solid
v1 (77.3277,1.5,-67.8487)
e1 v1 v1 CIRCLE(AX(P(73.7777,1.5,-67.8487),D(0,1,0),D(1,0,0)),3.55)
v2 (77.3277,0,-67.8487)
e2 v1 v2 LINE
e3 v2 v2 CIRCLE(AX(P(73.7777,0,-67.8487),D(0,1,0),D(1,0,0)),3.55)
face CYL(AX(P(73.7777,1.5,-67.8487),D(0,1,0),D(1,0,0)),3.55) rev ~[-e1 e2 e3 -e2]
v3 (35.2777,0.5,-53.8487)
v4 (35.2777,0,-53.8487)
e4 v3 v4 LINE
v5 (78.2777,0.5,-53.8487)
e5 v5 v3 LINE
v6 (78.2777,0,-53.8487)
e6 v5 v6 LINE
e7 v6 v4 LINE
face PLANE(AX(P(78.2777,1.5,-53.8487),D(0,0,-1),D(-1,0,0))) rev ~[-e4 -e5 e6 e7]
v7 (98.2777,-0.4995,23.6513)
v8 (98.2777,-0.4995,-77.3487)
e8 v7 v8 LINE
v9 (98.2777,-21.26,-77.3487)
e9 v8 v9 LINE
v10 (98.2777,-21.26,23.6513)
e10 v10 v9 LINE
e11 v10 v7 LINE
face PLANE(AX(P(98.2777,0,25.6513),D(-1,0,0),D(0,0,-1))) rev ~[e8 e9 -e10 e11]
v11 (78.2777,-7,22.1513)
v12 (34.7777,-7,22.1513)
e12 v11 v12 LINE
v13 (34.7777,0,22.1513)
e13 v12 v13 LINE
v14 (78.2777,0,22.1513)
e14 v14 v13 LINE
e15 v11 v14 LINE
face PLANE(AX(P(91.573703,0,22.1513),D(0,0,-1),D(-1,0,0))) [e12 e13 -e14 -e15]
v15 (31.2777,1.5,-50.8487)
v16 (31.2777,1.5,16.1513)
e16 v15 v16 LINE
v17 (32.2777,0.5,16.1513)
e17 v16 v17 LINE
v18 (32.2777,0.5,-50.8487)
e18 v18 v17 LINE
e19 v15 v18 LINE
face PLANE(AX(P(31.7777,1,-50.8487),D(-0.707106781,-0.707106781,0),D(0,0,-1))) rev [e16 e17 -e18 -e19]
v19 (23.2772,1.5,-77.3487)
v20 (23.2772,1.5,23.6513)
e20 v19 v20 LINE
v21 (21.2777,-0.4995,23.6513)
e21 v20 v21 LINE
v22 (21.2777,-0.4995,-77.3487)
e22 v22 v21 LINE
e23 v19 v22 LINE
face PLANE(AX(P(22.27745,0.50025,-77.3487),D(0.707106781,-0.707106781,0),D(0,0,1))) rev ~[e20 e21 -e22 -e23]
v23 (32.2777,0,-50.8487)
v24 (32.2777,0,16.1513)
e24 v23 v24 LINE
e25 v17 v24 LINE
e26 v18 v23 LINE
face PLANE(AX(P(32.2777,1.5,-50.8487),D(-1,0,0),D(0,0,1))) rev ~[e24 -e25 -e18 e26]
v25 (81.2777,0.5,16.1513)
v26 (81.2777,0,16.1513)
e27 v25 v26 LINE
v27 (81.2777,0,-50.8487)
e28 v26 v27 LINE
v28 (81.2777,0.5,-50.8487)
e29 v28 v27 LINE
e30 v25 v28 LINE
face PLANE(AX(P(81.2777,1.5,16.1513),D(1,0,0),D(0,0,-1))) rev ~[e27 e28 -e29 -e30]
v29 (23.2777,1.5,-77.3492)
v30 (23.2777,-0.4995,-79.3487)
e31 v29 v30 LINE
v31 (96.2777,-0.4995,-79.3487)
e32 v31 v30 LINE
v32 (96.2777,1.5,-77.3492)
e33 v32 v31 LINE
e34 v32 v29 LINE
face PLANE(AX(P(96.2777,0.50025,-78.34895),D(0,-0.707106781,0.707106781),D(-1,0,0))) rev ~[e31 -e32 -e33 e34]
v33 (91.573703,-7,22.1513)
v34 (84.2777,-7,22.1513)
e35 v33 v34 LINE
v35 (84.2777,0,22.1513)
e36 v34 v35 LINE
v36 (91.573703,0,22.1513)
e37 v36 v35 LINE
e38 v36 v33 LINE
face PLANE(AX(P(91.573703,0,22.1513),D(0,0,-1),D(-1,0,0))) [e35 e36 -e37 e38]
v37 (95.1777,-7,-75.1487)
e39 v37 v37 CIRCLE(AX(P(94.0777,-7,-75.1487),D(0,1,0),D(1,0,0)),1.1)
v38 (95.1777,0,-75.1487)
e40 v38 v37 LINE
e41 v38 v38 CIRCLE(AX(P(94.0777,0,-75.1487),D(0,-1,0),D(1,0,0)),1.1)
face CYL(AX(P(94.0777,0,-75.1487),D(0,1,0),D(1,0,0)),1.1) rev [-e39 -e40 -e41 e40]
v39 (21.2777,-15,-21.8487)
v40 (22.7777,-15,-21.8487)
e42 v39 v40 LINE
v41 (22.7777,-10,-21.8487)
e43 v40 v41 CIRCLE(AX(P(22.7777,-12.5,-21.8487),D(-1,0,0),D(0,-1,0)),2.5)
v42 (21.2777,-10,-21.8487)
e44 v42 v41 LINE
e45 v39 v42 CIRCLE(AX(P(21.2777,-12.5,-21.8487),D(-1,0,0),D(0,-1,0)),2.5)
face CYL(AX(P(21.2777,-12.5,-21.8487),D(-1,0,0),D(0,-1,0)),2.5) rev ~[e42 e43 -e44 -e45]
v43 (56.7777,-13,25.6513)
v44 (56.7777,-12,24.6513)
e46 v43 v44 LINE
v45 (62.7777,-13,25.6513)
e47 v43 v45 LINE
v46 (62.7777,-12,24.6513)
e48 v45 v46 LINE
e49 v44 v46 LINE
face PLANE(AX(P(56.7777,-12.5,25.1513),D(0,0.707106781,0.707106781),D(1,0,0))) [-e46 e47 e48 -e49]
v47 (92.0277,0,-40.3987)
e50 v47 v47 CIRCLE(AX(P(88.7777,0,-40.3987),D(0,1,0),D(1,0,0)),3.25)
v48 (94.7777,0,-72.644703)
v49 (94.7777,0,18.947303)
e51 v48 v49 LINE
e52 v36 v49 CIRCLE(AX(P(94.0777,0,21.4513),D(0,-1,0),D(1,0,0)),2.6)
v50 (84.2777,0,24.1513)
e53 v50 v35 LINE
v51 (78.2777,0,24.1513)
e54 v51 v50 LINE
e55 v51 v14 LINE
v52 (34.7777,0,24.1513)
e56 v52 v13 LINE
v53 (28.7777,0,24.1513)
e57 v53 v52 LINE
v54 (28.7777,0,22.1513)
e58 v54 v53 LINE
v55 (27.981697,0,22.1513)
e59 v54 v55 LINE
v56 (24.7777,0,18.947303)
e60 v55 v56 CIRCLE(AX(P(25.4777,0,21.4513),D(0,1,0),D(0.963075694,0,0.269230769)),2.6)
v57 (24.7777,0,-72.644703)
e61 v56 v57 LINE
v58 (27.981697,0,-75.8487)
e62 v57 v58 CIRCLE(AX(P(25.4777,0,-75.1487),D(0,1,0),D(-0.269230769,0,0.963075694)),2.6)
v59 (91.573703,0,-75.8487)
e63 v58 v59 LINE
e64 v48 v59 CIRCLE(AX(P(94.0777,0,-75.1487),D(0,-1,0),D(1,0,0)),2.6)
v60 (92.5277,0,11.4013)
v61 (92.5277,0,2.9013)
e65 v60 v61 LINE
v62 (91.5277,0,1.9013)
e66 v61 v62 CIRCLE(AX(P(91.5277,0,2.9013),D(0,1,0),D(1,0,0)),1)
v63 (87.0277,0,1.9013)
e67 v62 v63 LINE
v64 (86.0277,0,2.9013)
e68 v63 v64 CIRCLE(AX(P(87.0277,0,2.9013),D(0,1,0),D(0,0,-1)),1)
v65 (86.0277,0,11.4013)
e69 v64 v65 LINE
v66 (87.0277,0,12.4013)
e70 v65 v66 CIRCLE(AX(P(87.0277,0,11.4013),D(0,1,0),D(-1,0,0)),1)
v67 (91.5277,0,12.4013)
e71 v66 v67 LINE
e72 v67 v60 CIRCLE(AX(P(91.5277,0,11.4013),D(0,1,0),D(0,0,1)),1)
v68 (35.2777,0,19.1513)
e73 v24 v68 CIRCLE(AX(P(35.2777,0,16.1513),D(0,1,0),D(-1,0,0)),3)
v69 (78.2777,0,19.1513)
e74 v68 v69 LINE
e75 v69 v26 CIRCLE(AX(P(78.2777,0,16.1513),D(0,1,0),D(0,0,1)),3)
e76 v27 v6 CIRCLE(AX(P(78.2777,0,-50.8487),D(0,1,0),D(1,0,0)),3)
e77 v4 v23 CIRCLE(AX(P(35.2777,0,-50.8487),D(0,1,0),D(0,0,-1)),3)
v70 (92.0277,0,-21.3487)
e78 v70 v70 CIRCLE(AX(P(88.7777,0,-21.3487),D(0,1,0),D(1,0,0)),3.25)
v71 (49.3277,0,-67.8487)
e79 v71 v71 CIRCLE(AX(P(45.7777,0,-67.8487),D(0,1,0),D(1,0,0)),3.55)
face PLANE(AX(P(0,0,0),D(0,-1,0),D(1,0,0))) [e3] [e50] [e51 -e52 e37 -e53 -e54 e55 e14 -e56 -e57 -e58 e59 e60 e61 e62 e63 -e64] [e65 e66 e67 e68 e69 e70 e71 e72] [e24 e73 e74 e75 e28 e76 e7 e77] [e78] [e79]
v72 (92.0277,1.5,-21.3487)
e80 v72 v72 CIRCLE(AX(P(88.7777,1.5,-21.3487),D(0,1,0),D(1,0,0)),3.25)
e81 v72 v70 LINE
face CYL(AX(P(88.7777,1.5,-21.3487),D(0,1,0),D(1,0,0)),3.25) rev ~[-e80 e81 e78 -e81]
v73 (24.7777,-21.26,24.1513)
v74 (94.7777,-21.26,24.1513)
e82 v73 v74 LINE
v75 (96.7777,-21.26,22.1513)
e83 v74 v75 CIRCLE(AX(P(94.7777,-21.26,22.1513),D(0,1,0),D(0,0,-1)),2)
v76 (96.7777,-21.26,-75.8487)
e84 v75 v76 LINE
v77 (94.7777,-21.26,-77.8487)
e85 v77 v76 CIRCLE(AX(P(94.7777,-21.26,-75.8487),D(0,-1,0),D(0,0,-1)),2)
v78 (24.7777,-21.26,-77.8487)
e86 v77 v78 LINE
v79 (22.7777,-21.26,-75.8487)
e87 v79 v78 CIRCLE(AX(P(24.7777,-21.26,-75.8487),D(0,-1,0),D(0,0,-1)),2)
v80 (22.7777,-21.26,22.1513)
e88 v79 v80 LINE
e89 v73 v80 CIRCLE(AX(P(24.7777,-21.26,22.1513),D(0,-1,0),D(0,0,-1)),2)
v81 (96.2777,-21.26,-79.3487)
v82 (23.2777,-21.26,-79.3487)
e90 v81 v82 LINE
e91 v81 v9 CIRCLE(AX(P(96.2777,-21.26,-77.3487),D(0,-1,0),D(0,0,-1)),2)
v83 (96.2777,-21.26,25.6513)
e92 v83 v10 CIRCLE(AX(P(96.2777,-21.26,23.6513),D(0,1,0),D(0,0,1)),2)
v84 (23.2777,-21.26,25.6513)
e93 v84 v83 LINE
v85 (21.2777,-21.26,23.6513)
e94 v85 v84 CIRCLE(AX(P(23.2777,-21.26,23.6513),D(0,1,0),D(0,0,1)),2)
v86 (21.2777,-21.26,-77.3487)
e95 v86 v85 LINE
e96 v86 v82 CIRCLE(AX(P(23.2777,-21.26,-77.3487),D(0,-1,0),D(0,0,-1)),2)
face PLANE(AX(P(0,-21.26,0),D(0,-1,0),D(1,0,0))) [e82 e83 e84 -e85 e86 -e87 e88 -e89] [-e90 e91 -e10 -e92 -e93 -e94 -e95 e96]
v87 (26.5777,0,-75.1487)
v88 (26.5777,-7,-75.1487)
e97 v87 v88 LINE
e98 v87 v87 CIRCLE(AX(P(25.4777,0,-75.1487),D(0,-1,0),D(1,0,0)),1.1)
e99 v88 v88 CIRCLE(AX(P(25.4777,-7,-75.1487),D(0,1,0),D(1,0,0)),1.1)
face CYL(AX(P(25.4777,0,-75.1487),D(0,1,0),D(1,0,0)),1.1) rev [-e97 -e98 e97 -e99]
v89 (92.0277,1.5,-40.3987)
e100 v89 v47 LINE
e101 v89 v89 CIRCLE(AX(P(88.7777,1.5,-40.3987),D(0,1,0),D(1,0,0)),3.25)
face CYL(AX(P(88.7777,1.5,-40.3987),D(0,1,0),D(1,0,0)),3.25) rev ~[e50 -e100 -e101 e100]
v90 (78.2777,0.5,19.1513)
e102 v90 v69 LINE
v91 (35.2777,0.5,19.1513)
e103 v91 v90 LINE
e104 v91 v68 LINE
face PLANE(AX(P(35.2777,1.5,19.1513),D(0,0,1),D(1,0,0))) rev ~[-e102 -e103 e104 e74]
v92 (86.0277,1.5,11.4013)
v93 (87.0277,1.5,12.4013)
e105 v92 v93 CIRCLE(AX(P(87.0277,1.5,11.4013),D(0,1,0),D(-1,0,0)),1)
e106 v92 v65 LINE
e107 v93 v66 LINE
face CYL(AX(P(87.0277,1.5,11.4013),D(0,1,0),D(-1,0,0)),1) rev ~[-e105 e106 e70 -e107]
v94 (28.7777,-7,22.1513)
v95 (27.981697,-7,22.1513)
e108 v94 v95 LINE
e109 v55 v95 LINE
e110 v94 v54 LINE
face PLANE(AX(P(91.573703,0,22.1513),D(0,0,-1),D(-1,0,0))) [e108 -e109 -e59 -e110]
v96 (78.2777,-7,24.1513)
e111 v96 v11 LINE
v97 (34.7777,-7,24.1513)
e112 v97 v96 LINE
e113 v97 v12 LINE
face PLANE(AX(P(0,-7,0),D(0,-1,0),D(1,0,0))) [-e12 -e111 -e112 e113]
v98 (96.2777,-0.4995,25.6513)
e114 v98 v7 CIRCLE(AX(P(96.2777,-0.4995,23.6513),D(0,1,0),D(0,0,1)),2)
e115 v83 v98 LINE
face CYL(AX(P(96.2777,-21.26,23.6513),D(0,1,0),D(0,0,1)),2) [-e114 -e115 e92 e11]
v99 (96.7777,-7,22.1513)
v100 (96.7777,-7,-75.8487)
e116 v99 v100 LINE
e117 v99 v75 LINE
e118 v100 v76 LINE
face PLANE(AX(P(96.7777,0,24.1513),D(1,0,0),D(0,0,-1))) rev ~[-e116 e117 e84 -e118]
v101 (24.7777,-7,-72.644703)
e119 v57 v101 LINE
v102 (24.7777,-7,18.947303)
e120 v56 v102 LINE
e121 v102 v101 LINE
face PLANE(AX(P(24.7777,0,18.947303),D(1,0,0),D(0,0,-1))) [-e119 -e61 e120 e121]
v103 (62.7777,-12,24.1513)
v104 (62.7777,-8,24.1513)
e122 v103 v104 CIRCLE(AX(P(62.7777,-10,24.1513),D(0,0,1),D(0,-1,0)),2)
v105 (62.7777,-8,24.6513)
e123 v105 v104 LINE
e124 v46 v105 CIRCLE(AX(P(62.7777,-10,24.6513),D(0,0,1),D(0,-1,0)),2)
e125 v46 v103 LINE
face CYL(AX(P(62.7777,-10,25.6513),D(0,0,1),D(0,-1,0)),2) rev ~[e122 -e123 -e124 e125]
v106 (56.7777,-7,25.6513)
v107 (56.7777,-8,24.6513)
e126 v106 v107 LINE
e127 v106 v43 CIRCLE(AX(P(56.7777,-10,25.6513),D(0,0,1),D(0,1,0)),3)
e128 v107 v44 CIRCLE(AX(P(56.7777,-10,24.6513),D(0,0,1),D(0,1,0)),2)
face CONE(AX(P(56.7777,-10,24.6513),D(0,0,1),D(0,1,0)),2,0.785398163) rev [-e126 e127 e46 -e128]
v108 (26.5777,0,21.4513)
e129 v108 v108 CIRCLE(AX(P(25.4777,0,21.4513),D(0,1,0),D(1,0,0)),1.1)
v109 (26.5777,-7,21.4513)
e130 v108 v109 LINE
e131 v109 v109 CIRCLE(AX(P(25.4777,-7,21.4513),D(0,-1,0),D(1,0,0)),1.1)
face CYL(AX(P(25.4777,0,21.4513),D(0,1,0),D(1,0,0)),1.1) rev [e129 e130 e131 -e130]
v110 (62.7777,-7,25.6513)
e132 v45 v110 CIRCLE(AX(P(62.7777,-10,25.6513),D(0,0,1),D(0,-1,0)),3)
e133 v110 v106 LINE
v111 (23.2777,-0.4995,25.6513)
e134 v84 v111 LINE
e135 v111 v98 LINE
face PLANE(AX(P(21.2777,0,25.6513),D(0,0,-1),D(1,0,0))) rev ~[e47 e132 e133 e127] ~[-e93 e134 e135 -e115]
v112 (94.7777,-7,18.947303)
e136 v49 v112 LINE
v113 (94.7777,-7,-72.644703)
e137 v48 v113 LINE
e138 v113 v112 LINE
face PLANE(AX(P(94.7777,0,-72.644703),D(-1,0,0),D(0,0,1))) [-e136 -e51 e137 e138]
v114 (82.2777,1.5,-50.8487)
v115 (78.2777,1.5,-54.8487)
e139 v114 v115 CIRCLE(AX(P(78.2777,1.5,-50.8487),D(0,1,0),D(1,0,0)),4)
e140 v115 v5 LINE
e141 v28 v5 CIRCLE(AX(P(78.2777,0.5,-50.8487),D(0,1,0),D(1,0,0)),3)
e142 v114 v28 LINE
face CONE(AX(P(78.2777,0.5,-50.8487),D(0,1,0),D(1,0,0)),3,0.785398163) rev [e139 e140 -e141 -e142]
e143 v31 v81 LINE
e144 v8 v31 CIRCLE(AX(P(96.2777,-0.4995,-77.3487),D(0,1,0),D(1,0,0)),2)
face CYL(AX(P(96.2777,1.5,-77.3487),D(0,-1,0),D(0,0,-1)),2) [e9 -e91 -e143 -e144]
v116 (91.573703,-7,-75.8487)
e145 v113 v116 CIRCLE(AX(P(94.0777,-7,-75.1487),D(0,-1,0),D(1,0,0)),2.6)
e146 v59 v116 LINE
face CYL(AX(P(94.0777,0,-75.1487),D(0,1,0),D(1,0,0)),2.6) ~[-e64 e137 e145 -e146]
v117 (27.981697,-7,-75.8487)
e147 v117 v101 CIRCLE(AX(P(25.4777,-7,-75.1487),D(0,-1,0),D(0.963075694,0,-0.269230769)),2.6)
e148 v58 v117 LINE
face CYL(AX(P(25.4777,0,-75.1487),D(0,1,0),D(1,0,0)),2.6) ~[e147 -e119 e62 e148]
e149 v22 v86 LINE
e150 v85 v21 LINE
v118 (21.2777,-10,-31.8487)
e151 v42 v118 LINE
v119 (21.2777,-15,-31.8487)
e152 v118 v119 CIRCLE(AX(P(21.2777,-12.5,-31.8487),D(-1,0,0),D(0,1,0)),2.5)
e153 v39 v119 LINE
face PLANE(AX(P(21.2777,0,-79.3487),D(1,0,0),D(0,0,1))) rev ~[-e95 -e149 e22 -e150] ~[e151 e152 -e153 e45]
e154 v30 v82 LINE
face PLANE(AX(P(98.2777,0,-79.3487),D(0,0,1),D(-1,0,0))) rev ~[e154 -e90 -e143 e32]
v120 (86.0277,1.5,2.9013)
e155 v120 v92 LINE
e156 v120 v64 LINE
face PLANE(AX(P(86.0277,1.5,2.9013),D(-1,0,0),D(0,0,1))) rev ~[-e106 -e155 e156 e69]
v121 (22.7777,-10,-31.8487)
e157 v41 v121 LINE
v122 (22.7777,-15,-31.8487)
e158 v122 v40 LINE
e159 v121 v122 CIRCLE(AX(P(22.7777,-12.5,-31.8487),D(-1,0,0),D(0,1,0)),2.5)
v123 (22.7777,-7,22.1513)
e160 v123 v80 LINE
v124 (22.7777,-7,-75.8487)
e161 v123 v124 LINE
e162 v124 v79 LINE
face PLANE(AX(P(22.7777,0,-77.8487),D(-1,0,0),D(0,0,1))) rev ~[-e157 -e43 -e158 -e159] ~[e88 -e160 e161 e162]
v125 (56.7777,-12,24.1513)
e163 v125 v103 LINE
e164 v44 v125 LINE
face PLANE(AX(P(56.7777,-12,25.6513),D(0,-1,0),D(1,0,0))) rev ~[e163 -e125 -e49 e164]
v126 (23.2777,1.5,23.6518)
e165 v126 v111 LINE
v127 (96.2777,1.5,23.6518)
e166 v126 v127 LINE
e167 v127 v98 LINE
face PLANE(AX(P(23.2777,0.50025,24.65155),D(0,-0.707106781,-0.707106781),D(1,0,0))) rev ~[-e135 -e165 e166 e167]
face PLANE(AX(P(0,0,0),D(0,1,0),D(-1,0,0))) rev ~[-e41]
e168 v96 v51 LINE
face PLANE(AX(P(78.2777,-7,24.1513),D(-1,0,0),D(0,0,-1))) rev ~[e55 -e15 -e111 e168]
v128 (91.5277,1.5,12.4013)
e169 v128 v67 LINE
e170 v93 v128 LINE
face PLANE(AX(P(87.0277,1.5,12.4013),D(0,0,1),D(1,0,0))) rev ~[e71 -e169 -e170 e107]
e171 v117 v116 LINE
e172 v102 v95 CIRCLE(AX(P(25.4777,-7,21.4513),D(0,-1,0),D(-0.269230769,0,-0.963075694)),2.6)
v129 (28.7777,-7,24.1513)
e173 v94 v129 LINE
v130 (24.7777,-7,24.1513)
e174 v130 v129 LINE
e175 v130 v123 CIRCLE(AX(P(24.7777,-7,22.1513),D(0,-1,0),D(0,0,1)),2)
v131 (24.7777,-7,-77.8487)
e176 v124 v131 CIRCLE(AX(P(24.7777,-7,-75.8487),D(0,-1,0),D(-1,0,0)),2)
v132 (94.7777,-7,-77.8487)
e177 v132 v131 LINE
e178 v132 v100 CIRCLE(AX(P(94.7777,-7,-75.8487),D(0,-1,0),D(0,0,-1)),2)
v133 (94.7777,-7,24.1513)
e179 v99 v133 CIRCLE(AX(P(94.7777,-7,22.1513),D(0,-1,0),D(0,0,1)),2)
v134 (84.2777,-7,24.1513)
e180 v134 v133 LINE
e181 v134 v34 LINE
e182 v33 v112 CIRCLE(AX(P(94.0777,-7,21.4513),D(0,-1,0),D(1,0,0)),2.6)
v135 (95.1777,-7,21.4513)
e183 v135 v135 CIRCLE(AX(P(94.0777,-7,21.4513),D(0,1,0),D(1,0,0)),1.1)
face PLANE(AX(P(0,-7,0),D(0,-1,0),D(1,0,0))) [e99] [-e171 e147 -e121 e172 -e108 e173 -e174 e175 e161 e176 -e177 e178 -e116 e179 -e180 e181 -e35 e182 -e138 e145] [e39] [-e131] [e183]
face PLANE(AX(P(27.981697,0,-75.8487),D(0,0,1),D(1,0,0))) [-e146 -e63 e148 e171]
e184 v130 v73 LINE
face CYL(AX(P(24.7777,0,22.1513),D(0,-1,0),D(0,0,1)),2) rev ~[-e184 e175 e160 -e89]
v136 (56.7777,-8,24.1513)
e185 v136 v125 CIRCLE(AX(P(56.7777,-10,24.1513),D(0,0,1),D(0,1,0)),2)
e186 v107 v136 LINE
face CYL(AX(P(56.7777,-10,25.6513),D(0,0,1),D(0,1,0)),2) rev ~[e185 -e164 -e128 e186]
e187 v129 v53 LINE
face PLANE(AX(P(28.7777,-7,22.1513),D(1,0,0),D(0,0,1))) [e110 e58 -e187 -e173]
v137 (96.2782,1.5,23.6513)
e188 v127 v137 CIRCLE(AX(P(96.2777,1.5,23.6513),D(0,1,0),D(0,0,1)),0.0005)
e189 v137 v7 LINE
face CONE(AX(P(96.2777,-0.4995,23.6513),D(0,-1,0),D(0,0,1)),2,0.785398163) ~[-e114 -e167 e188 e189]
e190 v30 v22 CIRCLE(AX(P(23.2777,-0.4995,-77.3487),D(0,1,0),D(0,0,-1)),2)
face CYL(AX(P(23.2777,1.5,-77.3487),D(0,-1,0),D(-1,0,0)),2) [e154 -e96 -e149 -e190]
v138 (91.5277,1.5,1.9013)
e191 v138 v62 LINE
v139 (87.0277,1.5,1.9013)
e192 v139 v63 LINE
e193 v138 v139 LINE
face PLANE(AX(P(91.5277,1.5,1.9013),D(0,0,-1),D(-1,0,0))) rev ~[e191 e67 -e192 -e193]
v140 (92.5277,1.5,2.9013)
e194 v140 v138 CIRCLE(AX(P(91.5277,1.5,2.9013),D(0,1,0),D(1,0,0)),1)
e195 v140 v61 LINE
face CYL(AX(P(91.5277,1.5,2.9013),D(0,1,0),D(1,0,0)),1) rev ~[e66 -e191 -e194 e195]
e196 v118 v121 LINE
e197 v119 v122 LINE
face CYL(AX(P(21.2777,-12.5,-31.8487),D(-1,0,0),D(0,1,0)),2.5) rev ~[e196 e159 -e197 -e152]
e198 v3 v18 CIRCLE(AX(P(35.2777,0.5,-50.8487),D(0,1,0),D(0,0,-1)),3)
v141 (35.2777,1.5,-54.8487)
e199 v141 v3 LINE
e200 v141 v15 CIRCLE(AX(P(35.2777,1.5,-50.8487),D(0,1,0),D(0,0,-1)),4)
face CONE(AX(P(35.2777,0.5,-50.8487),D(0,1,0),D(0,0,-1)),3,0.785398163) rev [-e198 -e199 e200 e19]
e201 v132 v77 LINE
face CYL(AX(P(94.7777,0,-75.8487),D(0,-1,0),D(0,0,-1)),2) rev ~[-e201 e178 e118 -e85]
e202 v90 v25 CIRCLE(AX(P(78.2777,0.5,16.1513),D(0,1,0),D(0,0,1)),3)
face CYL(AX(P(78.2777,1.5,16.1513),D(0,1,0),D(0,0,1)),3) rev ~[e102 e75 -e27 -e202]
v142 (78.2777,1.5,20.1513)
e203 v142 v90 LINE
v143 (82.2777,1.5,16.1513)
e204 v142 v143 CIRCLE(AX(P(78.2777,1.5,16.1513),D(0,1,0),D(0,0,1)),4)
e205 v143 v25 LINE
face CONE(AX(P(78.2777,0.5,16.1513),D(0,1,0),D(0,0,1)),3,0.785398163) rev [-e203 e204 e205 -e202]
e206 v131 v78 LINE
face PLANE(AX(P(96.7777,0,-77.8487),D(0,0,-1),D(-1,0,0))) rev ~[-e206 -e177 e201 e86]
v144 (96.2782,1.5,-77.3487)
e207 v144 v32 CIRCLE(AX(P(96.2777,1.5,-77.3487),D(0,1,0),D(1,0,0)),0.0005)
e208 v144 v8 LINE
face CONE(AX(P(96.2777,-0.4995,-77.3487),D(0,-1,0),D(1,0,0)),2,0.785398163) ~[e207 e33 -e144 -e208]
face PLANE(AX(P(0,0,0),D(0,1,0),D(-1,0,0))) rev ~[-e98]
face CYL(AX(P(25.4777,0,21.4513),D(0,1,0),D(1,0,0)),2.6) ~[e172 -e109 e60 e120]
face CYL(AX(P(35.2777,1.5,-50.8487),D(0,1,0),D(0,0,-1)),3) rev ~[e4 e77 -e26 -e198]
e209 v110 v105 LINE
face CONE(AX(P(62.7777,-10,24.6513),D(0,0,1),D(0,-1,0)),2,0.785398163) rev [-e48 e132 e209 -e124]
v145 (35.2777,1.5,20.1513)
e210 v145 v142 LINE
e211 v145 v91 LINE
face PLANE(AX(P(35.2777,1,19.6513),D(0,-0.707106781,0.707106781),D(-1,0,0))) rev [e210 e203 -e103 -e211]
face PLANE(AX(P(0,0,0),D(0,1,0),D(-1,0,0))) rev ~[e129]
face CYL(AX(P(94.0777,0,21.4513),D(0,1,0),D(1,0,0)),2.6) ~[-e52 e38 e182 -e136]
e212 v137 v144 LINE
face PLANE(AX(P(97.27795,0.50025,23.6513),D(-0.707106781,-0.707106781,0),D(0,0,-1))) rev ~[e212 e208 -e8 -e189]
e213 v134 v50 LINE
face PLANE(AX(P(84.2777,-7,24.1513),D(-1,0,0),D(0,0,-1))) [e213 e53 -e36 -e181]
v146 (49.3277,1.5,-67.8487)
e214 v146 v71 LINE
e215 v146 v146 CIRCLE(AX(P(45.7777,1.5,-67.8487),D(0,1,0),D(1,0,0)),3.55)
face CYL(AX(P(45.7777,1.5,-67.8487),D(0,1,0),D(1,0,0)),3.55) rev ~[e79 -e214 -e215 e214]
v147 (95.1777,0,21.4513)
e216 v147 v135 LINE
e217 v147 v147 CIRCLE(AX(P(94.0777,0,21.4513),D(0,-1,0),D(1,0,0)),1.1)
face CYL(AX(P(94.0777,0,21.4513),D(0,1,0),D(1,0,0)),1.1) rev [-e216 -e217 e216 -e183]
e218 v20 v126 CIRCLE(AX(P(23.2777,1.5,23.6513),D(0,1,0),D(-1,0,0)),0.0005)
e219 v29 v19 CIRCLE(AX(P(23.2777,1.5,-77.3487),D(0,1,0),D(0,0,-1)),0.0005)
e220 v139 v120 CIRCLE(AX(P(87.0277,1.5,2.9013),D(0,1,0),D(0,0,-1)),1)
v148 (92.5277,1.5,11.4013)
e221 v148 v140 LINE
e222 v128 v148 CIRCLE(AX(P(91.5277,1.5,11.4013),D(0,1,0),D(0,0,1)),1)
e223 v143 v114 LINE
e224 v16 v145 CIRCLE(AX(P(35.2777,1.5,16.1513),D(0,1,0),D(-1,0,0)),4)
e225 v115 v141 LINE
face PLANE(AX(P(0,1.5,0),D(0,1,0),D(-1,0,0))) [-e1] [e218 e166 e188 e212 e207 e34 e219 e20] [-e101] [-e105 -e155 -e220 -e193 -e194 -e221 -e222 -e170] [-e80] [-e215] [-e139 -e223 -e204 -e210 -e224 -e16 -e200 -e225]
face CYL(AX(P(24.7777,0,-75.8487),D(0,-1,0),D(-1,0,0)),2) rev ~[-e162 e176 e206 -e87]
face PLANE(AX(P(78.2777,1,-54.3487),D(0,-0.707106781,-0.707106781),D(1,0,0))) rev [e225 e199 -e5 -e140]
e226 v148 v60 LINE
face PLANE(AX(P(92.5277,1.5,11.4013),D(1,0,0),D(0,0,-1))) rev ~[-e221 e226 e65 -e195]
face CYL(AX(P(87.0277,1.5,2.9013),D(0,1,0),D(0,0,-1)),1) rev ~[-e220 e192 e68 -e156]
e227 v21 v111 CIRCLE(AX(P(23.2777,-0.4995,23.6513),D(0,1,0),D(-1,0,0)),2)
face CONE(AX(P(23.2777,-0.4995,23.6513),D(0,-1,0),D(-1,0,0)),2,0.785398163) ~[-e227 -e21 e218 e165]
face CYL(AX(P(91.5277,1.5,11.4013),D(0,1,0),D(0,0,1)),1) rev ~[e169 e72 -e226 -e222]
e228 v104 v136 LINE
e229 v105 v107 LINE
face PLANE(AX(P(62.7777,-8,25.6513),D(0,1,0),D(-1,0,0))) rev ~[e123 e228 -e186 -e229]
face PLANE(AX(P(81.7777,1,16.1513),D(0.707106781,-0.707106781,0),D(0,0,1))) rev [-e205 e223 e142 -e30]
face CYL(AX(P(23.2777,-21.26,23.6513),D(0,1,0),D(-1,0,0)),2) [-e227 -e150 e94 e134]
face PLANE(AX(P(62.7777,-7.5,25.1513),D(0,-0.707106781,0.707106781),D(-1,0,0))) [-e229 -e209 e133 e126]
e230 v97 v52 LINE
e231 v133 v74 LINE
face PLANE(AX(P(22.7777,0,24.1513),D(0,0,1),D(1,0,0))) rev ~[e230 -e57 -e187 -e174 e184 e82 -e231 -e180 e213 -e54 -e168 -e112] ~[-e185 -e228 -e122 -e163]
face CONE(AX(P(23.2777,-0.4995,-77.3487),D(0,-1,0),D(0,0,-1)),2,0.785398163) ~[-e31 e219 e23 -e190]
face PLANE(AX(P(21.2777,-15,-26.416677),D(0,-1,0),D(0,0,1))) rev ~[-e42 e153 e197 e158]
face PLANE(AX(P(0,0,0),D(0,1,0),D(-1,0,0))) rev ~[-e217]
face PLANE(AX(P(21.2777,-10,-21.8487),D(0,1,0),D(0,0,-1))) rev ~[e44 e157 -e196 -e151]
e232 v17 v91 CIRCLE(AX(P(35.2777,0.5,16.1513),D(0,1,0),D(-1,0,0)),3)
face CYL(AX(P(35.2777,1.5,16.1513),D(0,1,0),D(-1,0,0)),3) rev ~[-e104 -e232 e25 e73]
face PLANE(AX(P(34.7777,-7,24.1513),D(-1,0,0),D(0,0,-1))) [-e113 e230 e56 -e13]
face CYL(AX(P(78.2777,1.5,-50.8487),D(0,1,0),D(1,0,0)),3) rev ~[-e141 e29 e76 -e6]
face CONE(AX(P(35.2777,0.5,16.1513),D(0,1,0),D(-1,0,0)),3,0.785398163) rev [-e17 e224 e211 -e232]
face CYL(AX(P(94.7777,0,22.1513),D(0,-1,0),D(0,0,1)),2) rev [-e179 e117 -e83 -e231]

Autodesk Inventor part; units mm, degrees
ref_plane "YZ Plane" through (0, 0, 0) normal (1, 0, 0) x (0, 1, 0)
ref_plane "XZ Plane" through (0, 0, 0) normal (0, 1, 0) x (-1, 0, 0)
ref_plane "XY Plane" through (0, 0, 0) normal (0, 0, 1) x (1, 0, 0)
sketch "Sketch1" plane through (0, 0, 0) normal (0, 1, 0) x (-1, 0, 0)
  line L0 (-21.2777, 25.6513) -> (-98.2777, 25.6513)
  line L1 (-98.2777, 25.6513) -> (-98.2777, -79.3487)
  line L2 (-98.2777, -79.3487) -> (-21.2777, -79.3487)
  line L3 (-21.2777, -79.3487) -> (-21.2777, 25.6513)
  point P0 (0, 0)
  dimension "d0" = 77
  dimension "d42" = 105
extrude "Extrusion1" add sketch "Sketch1" along normal blind 1.5
sketch "Sketch5" plane through (0, 0, 0) normal (0, -1, 0) x (1, 0, 0)
  line L0 (98.2777, 25.6513) -> (98.2777, -79.3487) projected
  line L1 (21.2777, 25.6513) -> (98.2777, 25.6513) projected
  line L2 (21.2777, -79.3487) -> (21.2777, 25.6513) projected
  line L3 (98.2777, -79.3487) -> (21.2777, -79.3487) projected
  line L4 (96.7777, 24.1513) -> (96.7777, -77.8487)
  line L5 (96.7777, -77.8487) -> (22.7777, -77.8487)
  line L6 (22.7777, -77.8487) -> (22.7777, 24.1513)
  line L7 (22.7777, 24.1513) -> (96.7777, 24.1513)
  point P0 (0, 0)
  dimension "d26" = 1.5
extrude "Extrusion7" add sketch "Sketch5" along normal blind 21.26
fillet "Fillet2" radius 2 4 edges at (21.2777, -9.88, -79.3487) (98.2777, -9.88, -79.3487) (98.2777, -9.88, 25.6513) (21.2777, -9.88, 25.6513)
sketch "Sketch8" plane through (21.2777, -21.26, -77.3487) normal (-1, 0, 0) x (0, 0, 1)
  line L0 (55.5, 8.76) -> (45.5, 8.76) construction
  line L1 (55.5, 11.26) -> (45.5, 11.26)
  line L2 (45.5, 6.26) -> (55.5, 6.26)
  arc A0 (55.5, 6.26) -> (55.5, 11.26) centre (55.5, 8.76) ccw
  arc A1 (45.5, 11.26) -> (45.5, 6.26) centre (45.5, 8.76) ccw
  line L3 (101, 0) -> (0, 0) projected
  line L4 (101, 0) -> (0, 0) construction
  line L5 (46.5661, 0) -> (44.4339, 17.52) construction
  line L6 (0, 22.76) -> (101, 22.76) projected
  line L7 (0, 22.76) -> (101, 22.76) construction
  line L8 (0, 0) -> (0, 22.76) construction
  line L9 (101, 22.76) -> (101, 0) projected
  line L10 (0, 0) -> (0, 22.76) projected
  circle A2 centre (50.054, 7.7768) radius 1.7526 projected
  point P0 (50.5, 8.76)
  point P1 (50.5, 8.76)
  dimension "d2" = 1.5
  dimension "d51" = 10
  dimension "d52" = 5
  dimension "d282" = 14
extrude "Extrusion9" cut sketch "Sketch8" against normal blind 10 contours A0 L2 A2 A1 L1 | L2 A2 picked at (50.5802, 7.7897)
sketch "Sketch9" plane through (0, 1.5, 0) normal (0, 1, 0) x (1, 0, 0)
  line L0 (35.2777, -19.1513) -> (78.2777, -19.1513)
  line L1 (81.2777, -16.1513) -> (81.2777, 50.8487)
  line L2 (78.2777, 53.8487) -> (35.2777, 53.8487)
  line L3 (32.2777, 50.8487) -> (32.2777, -16.1513)
  arc A0 (32.2777, -16.1513) -> (35.2777, -19.1513) centre (35.2777, -16.1513) ccw
  arc A1 (78.2777, -19.1513) -> (81.2777, -16.1513) centre (78.2777, -16.1513) ccw
  arc A2 (81.2777, 50.8487) -> (78.2777, 53.8487) centre (78.2777, 50.8487) ccw
  arc A3 (35.2777, 53.8487) -> (32.2777, 50.8487) centre (35.2777, 50.8487) ccw
  line L4 (98.2777, -25.6513) -> (98.2777, 79.3487) projected
  line L5 (21.2777, -25.6513) -> (98.2777, -25.6513) projected
  line L6 (22.7777, -24.1513) -> (22.7777, 77.8487) projected
  point P0 (0, 0)
  point P1 (81.2777, 53.8487)
  point P2 (81.2777, -19.1513)
  point P3 (32.2777, 53.8487)
  point P4 (98.2777, -23.6513)
  point P5 (98.2777, 77.3487)
  point P6 (23.2777, -25.6513)
  point P7 (96.2777, -25.6513)
  dimension "d56" = 49
  dimension "d57" = 73
  dimension "d60" = 3
  dimension "d116" = 17
  dimension "d144" = 6.5
  dimension "d283" = 9.5
extrude "Extrusion10" cut sketch "Sketch9" against normal blind 10
chamfer "Chamfer4" distance 1 angle 45 8 edges at (33.1563, 1.5, 18.2726) (32.2777, 1.5, -17.3487) (33.1563, 1.5, -52.9701) (56.7777, 1.5, -53.8487) (80.399, 1.5, -52.9701) (81.2777, 1.5, -17.3487) (80.399, 1.5, 18.2726) (56.7777, 1.5, 19.1513)
chamfer "Chamfer5" distance 2 angle 45 8 edges at (98.2777, 1.5, -26.8487) (97.6919, 1.5, -78.763) (59.7777, 1.5, -79.3487) (21.8635, 1.5, -78.763) (21.2777, 1.5, -26.8487) (21.8635, 1.5, 25.0655) (59.7777, 1.5, 25.6513) (97.6919, 1.5, 25.0655)
sketch "Sketch17" plane through (23.2777, -21.26, 25.6513) normal (0, 0, 1) x (1, 0, 0)
  line L0 (0, 20.76) -> (73, 20.76) projected
  line L1 (73, 0) -> (0, 0) projected
  line L2 (33.5, 11.26) -> (39.5, 11.26) construction
  line L3 (33.5, 9.26) -> (39.5, 9.26)
  line L4 (39.5, 13.26) -> (33.5, 13.26)
  arc A0 (33.5, 13.26) -> (33.5, 9.26) centre (33.5, 11.26) ccw
  arc A1 (39.5, 9.26) -> (39.5, 13.26) centre (39.5, 11.26) ccw
  line L5 (0, 0) -> (0, 20.76) projected
  line L6 (73, 20.76) -> (73, 0) projected
  point P0 (-23.2777, 21.26)
  point P1 (36.5, 11.26)
  dimension "d167" = 6
  dimension "d168" = 4
  dimension "d169" = 9.5
  dimension "d170" = 11.26
extrude "Extrusion17" cut sketch "Sketch17" against normal blind 4 contours A0 L4 A1 L3
chamfer "Chamfer6" distance 1 angle 45 4 edges at (59.7777, -8, 25.6513) (64.7777, -10, 25.6513) (59.7777, -12, 25.6513) (54.7777, -10, 25.6513)
sketch "Sketch18" plane through (0, 1.5, 0) normal (0, 1, 0) x (1, 0, 0)
  line L0 (96.2777, 77.3487) -> (96.2777, -23.6513) projected
  line L1 (82.2777, -16.1513) -> (96.2777, -16.1513)
  line L2 (81.2777, 50.8487) -> (82.2777, 50.8487) projected
  line L3 (96.7777, -24.1513) -> (96.7777, 77.8487) projected
  circle A0 centre (88.7777, 21.3487) radius 3.25
  circle A1 centre (88.7777, 40.3987) radius 3.25
  line L4 (96.2777, -23.6513) -> (23.2777, -23.6513) projected
  point P0 (0, 0)
  point P1 (96.7777, -22.1513)
  point P2 (96.7777, 75.8487)
  point P3 (97.2777, 77.3487)
  point P4 (97.2777, -26.6513)
  dimension "d178" = 6.5
  dimension "d179" = 6.5
  dimension "d191" = 7.5
  dimension "d192" = 7.5
  dimension "d275" = 19.05
  dimension "d276" = 45
extrude "Extrusion18" cut sketch "Sketch18" against normal blind 10
sketch "Sketch19" plane through (0, 1.5, 0) normal (0, 1, 0) x (1, 0, 0)
  circle A0 centre (88.7777, 40.3987) radius 3.25 projected
  circle A1 centre (88.7777, 21.3487) radius 3.25 projected
  arc A2 (31.2777, -16.1513) -> (35.2777, -20.1513) centre (35.2777, -16.1513) ccw projected
  line L0 (31.2777, 50.8487) -> (31.2777, -16.1513) projected
  arc A3 (35.2777, 54.8487) -> (31.2777, 50.8487) centre (35.2777, 50.8487) ccw projected
  line L1 (78.2777, 54.8487) -> (35.2777, 54.8487) projected
  arc A4 (82.2777, 50.8487) -> (78.2777, 54.8487) centre (78.2777, 50.8487) ccw projected
  line L2 (82.2777, -16.1513) -> (82.2777, 50.8487) projected
  arc A5 (78.2777, -20.1513) -> (82.2777, -16.1513) centre (78.2777, -16.1513) ccw projected
  line L3 (35.2777, -20.1513) -> (78.2777, -20.1513) projected
  line L4 (96.2777, -23.6513) -> (23.2777, -23.6513) projected
  line L5 (96.2777, 77.3487) -> (96.2777, -23.6513) projected
  line L6 (23.2777, 77.3487) -> (96.2777, 77.3487) projected
  line L7 (23.2777, -23.6513) -> (23.2777, 77.3487) projected
  arc A6 (35.2777, 54.8487) -> (31.2777, 50.8487) centre (35.2777, 50.8487) ccw projected
  arc A7 (82.2777, 50.8487) -> (78.2777, 54.8487) centre (78.2777, 50.8487) ccw projected
  line L8 (23.2777, 77.3487) -> (96.2777, 77.3487) projected
  circle A8 centre (73.7777, 67.8487) radius 3.55
  line L9 (96.2777, 77.3487) -> (96.2777, -23.6513) projected
  line L10 (81.2777, -16.1513) -> (81.2777, 50.8487) projected
  line L11 (88.7777, 40.3987) -> (88.7777, 73.4928)
  line L12 (96.7777, 75.8487) -> (96.7777, -22.1513) projected
  line L13 (24.7777, 77.8487) -> (94.7777, 77.8487) projected
  line L14 (82.2777, -16.1513) -> (82.2777, 50.8487) projected
  line L15 (82.2777, 43.5388) -> (96.2777, 43.5388)
  line L16 (87.0277, -12.4013) -> (91.5277, -12.4013)
  line L17 (92.5277, -11.4013) -> (92.5277, -2.9013)
  line L18 (91.5277, -1.9013) -> (87.0277, -1.9013)
  line L19 (86.0277, -2.9013) -> (86.0277, -11.4013)
  line L20 (86.0277, -12.4013) -> (92.5277, -1.9013) construction
  line L21 (92.5277, -12.4013) -> (86.0277, -1.9013) construction
  arc A9 (86.0277, -11.4013) -> (87.0277, -12.4013) centre (87.0277, -11.4013) ccw
  arc A10 (91.5277, -12.4013) -> (92.5277, -11.4013) centre (91.5277, -11.4013) ccw
  arc A11 (92.5277, -2.9013) -> (91.5277, -1.9013) centre (91.5277, -2.9013) ccw
  arc A12 (87.0277, -1.9013) -> (86.0277, -2.9013) centre (87.0277, -2.9013) ccw
  line L22 (77.1824, 62.3487) -> (70.6824, 72.8487) construction
  line L23 (35.0277, 59.5987) -> (41.5277, 70.0987) construction
  line L24 (98.2777, -23.6513) -> (98.2777, 77.3487) projected
  circle A13 centre (45.7777, 67.8487) radius 3.55
  line L25 (22.7777, -24.1513) -> (96.7777, -24.1513) projected
  point P0 (0, 0)
  point P1 (86.949, 59.6109)
  point P2 (88.2777, 58.5987)
  point P3 (89.2777, -7.1513)
  point P4 (98.2777, -25.6513)
  point P5 (98.2777, 79.3487)
  dimension "d184" = 7.1
  dimension "d200" = 10.5
  dimension "d201" = 1
  dimension "d207" = 6.5
  dimension "d209" = 5.75
  dimension "d277" = 7.1
  dimension "d278" = 28
  dimension "d284" = 9.5
  dimension "d285" = 9.5
  dimension "d286" = 22.5
  dimension "d318" = 17
extrude "Extrusion19" cut sketch "Sketch19" against normal up to surface (1.5 mm away) contours A8 | A9 L19 A12 L18 A11 L17 A10 L16 | A13
sketch "Sketch34" plane through (0, 0, 0) normal (0, -1, 0) x (1, 0, 0)
  circle A0 centre (25.4777, 21.4513) radius 1.1
  circle A1 centre (25.4777, -75.1487) radius 1.1
  circle A2 centre (94.0777, -75.1487) radius 1.1
  circle A3 centre (94.0777, 21.4513) radius 1.1
  line L0 (22.7777, 24.1513) -> (96.7777, 24.1513) projected
  line L1 (96.7777, 24.1513) -> (96.7777, -77.8487) projected
  line L2 (22.7777, -14.9487) -> (22.7777, -38.7487)
  line L3 (96.7777, -77.8487) -> (22.7777, -77.8487) projected
  line L4 (22.7777, 24.1513) -> (22.7777, -77.8487) projected
  line L5 (24.7777, -75.8487) -> (94.7777, -75.8487)
  line L6 (94.7777, -75.8487) -> (94.7777, 22.1513)
  line L7 (94.7777, 22.1513) -> (24.7777, 22.1513)
  line L8 (24.7777, 22.1513) -> (24.7777, -75.8487)
  circle A4 centre (25.4777, -75.1487) radius 2.6
  circle A5 centre (25.4777, 21.4513) radius 2.6
  circle A6 centre (94.0777, -75.1487) radius 2.6
  circle A7 centre (94.0777, 21.4513) radius 2.6
  point P0 (0, 0)
  point P1 (27.4777, 19.4513)
  point P2 (92.0777, -73.1487)
  point P3 (24.7777, -72.6447)
  point P4 (24.7777, 18.9473)
  point P5 (27.9817, 22.1513)
  point P6 (91.5737, 22.1513)
  point P7 (94.7777, 18.9473)
  point P8 (94.7777, -72.6447)
  point P9 (91.5737, -75.8487)
  point P10 (27.9817, -75.8487)
  dimension "d361" = 2.2
  dimension "d362" = 2.2
  dimension "d363" = 2.2
  dimension "d364" = 2.2
  dimension "d367" = 2
  dimension "d368" = 1.5
  dimension "d369" = 1.5
  dimension "d370" = 1.5
  dimension "d371" = 1.5
fillet "Fillet6" radius 2 4 edges at (22.7777, -10.63, -77.8487) (22.7777, -10.63, 24.1513) (96.7777, -10.63, 24.1513) (96.7777, -10.63, -77.8487)
extrude "Extrusion31" add sketch "Sketch34" along normal blind 7 contours A0 L7 A5 L8 | A0 L8 A5 L7 | A7 L6 A3 L7 | L7 A3 L6 A7 | A4 L5 A1 L8 | L8 A1 L5 A4 | A6 L5 A2 L6 | L6 A2 L5 A6 | L0 L1 L3 L4 L2
sketch "Sketch35" plane through (0, -7, 0) normal (0, -1, 0) x (1, 0, 0)
  circle A0 centre (94.0777, 21.4513) radius 1.1 projected
  circle A1 centre (94.0777, -75.1487) radius 1.1 projected
  circle A2 centre (25.4777, 21.4513) radius 1.1 projected
  circle A3 centre (25.4777, -75.1487) radius 1.1 projected
  line L0 (24.7777, -72.6447) -> (24.7777, 18.9473) projected
  arc A4 (24.7777, 18.9473) -> (27.9817, 22.1513) centre (25.4777, 21.4513) ccw projected
  line L1 (27.9817, 22.1513) -> (91.5737, 22.1513) projected
  arc A5 (91.5737, 22.1513) -> (94.7777, 18.9473) centre (94.0777, 21.4513) ccw projected
  line L2 (94.7777, 18.9473) -> (94.7777, -72.6447) projected
  arc A6 (94.7777, -72.6447) -> (91.5737, -75.8487) centre (94.0777, -75.1487) ccw projected
  line L3 (91.5737, -75.8487) -> (27.9817, -75.8487) projected
  arc A7 (27.9817, -75.8487) -> (24.7777, -72.6447) centre (25.4777, -75.1487) ccw projected
  arc A8 (22.7777, -75.8487) -> (24.7777, -77.8487) centre (24.7777, -75.8487) ccw projected
  line L4 (94.7777, -77.8487) -> (24.7777, -77.8487) projected
  arc A9 (94.7777, -77.8487) -> (96.7777, -75.8487) centre (94.7777, -75.8487) ccw projected
  line L5 (96.7777, 22.1513) -> (96.7777, -75.8487) projected
  arc A10 (96.7777, 22.1513) -> (94.7777, 24.1513) centre (94.7777, 22.1513) ccw projected
  line L6 (24.7777, 24.1513) -> (94.7777, 24.1513) projected
  arc A11 (24.7777, 24.1513) -> (22.7777, 22.1513) centre (24.7777, 22.1513) ccw projected
  line L7 (22.7777, -75.8487) -> (22.7777, 22.1513) projected
  line L8 (24.7777, 24.1513) -> (94.7777, 24.1513) projected
  line L9 (34.7777, 24.1513) -> (34.7777, 22.1513)
  line L10 (27.9817, 22.1513) -> (91.5737, 22.1513) projected
  line L11 (28.7777, 22.1513) -> (28.7777, 24.1513)
  line L12 (84.2777, 24.1513) -> (84.2777, 22.1513)
  line L13 (78.2777, 24.1513) -> (78.2777, 22.1513)
  point P0 (0, 0)
  dimension "d372" = 6
  dimension "d373" = 6
  dimension "d374" = 6
  dimension "d375" = 10.5
extrude "Extrusion32" cut sketch "Sketch35" against normal up to surface (7 mm away) contours L11 L6 L9 L1 | L13 L6 L12 L1
properties part number "Frontpanel_3DPrint"
